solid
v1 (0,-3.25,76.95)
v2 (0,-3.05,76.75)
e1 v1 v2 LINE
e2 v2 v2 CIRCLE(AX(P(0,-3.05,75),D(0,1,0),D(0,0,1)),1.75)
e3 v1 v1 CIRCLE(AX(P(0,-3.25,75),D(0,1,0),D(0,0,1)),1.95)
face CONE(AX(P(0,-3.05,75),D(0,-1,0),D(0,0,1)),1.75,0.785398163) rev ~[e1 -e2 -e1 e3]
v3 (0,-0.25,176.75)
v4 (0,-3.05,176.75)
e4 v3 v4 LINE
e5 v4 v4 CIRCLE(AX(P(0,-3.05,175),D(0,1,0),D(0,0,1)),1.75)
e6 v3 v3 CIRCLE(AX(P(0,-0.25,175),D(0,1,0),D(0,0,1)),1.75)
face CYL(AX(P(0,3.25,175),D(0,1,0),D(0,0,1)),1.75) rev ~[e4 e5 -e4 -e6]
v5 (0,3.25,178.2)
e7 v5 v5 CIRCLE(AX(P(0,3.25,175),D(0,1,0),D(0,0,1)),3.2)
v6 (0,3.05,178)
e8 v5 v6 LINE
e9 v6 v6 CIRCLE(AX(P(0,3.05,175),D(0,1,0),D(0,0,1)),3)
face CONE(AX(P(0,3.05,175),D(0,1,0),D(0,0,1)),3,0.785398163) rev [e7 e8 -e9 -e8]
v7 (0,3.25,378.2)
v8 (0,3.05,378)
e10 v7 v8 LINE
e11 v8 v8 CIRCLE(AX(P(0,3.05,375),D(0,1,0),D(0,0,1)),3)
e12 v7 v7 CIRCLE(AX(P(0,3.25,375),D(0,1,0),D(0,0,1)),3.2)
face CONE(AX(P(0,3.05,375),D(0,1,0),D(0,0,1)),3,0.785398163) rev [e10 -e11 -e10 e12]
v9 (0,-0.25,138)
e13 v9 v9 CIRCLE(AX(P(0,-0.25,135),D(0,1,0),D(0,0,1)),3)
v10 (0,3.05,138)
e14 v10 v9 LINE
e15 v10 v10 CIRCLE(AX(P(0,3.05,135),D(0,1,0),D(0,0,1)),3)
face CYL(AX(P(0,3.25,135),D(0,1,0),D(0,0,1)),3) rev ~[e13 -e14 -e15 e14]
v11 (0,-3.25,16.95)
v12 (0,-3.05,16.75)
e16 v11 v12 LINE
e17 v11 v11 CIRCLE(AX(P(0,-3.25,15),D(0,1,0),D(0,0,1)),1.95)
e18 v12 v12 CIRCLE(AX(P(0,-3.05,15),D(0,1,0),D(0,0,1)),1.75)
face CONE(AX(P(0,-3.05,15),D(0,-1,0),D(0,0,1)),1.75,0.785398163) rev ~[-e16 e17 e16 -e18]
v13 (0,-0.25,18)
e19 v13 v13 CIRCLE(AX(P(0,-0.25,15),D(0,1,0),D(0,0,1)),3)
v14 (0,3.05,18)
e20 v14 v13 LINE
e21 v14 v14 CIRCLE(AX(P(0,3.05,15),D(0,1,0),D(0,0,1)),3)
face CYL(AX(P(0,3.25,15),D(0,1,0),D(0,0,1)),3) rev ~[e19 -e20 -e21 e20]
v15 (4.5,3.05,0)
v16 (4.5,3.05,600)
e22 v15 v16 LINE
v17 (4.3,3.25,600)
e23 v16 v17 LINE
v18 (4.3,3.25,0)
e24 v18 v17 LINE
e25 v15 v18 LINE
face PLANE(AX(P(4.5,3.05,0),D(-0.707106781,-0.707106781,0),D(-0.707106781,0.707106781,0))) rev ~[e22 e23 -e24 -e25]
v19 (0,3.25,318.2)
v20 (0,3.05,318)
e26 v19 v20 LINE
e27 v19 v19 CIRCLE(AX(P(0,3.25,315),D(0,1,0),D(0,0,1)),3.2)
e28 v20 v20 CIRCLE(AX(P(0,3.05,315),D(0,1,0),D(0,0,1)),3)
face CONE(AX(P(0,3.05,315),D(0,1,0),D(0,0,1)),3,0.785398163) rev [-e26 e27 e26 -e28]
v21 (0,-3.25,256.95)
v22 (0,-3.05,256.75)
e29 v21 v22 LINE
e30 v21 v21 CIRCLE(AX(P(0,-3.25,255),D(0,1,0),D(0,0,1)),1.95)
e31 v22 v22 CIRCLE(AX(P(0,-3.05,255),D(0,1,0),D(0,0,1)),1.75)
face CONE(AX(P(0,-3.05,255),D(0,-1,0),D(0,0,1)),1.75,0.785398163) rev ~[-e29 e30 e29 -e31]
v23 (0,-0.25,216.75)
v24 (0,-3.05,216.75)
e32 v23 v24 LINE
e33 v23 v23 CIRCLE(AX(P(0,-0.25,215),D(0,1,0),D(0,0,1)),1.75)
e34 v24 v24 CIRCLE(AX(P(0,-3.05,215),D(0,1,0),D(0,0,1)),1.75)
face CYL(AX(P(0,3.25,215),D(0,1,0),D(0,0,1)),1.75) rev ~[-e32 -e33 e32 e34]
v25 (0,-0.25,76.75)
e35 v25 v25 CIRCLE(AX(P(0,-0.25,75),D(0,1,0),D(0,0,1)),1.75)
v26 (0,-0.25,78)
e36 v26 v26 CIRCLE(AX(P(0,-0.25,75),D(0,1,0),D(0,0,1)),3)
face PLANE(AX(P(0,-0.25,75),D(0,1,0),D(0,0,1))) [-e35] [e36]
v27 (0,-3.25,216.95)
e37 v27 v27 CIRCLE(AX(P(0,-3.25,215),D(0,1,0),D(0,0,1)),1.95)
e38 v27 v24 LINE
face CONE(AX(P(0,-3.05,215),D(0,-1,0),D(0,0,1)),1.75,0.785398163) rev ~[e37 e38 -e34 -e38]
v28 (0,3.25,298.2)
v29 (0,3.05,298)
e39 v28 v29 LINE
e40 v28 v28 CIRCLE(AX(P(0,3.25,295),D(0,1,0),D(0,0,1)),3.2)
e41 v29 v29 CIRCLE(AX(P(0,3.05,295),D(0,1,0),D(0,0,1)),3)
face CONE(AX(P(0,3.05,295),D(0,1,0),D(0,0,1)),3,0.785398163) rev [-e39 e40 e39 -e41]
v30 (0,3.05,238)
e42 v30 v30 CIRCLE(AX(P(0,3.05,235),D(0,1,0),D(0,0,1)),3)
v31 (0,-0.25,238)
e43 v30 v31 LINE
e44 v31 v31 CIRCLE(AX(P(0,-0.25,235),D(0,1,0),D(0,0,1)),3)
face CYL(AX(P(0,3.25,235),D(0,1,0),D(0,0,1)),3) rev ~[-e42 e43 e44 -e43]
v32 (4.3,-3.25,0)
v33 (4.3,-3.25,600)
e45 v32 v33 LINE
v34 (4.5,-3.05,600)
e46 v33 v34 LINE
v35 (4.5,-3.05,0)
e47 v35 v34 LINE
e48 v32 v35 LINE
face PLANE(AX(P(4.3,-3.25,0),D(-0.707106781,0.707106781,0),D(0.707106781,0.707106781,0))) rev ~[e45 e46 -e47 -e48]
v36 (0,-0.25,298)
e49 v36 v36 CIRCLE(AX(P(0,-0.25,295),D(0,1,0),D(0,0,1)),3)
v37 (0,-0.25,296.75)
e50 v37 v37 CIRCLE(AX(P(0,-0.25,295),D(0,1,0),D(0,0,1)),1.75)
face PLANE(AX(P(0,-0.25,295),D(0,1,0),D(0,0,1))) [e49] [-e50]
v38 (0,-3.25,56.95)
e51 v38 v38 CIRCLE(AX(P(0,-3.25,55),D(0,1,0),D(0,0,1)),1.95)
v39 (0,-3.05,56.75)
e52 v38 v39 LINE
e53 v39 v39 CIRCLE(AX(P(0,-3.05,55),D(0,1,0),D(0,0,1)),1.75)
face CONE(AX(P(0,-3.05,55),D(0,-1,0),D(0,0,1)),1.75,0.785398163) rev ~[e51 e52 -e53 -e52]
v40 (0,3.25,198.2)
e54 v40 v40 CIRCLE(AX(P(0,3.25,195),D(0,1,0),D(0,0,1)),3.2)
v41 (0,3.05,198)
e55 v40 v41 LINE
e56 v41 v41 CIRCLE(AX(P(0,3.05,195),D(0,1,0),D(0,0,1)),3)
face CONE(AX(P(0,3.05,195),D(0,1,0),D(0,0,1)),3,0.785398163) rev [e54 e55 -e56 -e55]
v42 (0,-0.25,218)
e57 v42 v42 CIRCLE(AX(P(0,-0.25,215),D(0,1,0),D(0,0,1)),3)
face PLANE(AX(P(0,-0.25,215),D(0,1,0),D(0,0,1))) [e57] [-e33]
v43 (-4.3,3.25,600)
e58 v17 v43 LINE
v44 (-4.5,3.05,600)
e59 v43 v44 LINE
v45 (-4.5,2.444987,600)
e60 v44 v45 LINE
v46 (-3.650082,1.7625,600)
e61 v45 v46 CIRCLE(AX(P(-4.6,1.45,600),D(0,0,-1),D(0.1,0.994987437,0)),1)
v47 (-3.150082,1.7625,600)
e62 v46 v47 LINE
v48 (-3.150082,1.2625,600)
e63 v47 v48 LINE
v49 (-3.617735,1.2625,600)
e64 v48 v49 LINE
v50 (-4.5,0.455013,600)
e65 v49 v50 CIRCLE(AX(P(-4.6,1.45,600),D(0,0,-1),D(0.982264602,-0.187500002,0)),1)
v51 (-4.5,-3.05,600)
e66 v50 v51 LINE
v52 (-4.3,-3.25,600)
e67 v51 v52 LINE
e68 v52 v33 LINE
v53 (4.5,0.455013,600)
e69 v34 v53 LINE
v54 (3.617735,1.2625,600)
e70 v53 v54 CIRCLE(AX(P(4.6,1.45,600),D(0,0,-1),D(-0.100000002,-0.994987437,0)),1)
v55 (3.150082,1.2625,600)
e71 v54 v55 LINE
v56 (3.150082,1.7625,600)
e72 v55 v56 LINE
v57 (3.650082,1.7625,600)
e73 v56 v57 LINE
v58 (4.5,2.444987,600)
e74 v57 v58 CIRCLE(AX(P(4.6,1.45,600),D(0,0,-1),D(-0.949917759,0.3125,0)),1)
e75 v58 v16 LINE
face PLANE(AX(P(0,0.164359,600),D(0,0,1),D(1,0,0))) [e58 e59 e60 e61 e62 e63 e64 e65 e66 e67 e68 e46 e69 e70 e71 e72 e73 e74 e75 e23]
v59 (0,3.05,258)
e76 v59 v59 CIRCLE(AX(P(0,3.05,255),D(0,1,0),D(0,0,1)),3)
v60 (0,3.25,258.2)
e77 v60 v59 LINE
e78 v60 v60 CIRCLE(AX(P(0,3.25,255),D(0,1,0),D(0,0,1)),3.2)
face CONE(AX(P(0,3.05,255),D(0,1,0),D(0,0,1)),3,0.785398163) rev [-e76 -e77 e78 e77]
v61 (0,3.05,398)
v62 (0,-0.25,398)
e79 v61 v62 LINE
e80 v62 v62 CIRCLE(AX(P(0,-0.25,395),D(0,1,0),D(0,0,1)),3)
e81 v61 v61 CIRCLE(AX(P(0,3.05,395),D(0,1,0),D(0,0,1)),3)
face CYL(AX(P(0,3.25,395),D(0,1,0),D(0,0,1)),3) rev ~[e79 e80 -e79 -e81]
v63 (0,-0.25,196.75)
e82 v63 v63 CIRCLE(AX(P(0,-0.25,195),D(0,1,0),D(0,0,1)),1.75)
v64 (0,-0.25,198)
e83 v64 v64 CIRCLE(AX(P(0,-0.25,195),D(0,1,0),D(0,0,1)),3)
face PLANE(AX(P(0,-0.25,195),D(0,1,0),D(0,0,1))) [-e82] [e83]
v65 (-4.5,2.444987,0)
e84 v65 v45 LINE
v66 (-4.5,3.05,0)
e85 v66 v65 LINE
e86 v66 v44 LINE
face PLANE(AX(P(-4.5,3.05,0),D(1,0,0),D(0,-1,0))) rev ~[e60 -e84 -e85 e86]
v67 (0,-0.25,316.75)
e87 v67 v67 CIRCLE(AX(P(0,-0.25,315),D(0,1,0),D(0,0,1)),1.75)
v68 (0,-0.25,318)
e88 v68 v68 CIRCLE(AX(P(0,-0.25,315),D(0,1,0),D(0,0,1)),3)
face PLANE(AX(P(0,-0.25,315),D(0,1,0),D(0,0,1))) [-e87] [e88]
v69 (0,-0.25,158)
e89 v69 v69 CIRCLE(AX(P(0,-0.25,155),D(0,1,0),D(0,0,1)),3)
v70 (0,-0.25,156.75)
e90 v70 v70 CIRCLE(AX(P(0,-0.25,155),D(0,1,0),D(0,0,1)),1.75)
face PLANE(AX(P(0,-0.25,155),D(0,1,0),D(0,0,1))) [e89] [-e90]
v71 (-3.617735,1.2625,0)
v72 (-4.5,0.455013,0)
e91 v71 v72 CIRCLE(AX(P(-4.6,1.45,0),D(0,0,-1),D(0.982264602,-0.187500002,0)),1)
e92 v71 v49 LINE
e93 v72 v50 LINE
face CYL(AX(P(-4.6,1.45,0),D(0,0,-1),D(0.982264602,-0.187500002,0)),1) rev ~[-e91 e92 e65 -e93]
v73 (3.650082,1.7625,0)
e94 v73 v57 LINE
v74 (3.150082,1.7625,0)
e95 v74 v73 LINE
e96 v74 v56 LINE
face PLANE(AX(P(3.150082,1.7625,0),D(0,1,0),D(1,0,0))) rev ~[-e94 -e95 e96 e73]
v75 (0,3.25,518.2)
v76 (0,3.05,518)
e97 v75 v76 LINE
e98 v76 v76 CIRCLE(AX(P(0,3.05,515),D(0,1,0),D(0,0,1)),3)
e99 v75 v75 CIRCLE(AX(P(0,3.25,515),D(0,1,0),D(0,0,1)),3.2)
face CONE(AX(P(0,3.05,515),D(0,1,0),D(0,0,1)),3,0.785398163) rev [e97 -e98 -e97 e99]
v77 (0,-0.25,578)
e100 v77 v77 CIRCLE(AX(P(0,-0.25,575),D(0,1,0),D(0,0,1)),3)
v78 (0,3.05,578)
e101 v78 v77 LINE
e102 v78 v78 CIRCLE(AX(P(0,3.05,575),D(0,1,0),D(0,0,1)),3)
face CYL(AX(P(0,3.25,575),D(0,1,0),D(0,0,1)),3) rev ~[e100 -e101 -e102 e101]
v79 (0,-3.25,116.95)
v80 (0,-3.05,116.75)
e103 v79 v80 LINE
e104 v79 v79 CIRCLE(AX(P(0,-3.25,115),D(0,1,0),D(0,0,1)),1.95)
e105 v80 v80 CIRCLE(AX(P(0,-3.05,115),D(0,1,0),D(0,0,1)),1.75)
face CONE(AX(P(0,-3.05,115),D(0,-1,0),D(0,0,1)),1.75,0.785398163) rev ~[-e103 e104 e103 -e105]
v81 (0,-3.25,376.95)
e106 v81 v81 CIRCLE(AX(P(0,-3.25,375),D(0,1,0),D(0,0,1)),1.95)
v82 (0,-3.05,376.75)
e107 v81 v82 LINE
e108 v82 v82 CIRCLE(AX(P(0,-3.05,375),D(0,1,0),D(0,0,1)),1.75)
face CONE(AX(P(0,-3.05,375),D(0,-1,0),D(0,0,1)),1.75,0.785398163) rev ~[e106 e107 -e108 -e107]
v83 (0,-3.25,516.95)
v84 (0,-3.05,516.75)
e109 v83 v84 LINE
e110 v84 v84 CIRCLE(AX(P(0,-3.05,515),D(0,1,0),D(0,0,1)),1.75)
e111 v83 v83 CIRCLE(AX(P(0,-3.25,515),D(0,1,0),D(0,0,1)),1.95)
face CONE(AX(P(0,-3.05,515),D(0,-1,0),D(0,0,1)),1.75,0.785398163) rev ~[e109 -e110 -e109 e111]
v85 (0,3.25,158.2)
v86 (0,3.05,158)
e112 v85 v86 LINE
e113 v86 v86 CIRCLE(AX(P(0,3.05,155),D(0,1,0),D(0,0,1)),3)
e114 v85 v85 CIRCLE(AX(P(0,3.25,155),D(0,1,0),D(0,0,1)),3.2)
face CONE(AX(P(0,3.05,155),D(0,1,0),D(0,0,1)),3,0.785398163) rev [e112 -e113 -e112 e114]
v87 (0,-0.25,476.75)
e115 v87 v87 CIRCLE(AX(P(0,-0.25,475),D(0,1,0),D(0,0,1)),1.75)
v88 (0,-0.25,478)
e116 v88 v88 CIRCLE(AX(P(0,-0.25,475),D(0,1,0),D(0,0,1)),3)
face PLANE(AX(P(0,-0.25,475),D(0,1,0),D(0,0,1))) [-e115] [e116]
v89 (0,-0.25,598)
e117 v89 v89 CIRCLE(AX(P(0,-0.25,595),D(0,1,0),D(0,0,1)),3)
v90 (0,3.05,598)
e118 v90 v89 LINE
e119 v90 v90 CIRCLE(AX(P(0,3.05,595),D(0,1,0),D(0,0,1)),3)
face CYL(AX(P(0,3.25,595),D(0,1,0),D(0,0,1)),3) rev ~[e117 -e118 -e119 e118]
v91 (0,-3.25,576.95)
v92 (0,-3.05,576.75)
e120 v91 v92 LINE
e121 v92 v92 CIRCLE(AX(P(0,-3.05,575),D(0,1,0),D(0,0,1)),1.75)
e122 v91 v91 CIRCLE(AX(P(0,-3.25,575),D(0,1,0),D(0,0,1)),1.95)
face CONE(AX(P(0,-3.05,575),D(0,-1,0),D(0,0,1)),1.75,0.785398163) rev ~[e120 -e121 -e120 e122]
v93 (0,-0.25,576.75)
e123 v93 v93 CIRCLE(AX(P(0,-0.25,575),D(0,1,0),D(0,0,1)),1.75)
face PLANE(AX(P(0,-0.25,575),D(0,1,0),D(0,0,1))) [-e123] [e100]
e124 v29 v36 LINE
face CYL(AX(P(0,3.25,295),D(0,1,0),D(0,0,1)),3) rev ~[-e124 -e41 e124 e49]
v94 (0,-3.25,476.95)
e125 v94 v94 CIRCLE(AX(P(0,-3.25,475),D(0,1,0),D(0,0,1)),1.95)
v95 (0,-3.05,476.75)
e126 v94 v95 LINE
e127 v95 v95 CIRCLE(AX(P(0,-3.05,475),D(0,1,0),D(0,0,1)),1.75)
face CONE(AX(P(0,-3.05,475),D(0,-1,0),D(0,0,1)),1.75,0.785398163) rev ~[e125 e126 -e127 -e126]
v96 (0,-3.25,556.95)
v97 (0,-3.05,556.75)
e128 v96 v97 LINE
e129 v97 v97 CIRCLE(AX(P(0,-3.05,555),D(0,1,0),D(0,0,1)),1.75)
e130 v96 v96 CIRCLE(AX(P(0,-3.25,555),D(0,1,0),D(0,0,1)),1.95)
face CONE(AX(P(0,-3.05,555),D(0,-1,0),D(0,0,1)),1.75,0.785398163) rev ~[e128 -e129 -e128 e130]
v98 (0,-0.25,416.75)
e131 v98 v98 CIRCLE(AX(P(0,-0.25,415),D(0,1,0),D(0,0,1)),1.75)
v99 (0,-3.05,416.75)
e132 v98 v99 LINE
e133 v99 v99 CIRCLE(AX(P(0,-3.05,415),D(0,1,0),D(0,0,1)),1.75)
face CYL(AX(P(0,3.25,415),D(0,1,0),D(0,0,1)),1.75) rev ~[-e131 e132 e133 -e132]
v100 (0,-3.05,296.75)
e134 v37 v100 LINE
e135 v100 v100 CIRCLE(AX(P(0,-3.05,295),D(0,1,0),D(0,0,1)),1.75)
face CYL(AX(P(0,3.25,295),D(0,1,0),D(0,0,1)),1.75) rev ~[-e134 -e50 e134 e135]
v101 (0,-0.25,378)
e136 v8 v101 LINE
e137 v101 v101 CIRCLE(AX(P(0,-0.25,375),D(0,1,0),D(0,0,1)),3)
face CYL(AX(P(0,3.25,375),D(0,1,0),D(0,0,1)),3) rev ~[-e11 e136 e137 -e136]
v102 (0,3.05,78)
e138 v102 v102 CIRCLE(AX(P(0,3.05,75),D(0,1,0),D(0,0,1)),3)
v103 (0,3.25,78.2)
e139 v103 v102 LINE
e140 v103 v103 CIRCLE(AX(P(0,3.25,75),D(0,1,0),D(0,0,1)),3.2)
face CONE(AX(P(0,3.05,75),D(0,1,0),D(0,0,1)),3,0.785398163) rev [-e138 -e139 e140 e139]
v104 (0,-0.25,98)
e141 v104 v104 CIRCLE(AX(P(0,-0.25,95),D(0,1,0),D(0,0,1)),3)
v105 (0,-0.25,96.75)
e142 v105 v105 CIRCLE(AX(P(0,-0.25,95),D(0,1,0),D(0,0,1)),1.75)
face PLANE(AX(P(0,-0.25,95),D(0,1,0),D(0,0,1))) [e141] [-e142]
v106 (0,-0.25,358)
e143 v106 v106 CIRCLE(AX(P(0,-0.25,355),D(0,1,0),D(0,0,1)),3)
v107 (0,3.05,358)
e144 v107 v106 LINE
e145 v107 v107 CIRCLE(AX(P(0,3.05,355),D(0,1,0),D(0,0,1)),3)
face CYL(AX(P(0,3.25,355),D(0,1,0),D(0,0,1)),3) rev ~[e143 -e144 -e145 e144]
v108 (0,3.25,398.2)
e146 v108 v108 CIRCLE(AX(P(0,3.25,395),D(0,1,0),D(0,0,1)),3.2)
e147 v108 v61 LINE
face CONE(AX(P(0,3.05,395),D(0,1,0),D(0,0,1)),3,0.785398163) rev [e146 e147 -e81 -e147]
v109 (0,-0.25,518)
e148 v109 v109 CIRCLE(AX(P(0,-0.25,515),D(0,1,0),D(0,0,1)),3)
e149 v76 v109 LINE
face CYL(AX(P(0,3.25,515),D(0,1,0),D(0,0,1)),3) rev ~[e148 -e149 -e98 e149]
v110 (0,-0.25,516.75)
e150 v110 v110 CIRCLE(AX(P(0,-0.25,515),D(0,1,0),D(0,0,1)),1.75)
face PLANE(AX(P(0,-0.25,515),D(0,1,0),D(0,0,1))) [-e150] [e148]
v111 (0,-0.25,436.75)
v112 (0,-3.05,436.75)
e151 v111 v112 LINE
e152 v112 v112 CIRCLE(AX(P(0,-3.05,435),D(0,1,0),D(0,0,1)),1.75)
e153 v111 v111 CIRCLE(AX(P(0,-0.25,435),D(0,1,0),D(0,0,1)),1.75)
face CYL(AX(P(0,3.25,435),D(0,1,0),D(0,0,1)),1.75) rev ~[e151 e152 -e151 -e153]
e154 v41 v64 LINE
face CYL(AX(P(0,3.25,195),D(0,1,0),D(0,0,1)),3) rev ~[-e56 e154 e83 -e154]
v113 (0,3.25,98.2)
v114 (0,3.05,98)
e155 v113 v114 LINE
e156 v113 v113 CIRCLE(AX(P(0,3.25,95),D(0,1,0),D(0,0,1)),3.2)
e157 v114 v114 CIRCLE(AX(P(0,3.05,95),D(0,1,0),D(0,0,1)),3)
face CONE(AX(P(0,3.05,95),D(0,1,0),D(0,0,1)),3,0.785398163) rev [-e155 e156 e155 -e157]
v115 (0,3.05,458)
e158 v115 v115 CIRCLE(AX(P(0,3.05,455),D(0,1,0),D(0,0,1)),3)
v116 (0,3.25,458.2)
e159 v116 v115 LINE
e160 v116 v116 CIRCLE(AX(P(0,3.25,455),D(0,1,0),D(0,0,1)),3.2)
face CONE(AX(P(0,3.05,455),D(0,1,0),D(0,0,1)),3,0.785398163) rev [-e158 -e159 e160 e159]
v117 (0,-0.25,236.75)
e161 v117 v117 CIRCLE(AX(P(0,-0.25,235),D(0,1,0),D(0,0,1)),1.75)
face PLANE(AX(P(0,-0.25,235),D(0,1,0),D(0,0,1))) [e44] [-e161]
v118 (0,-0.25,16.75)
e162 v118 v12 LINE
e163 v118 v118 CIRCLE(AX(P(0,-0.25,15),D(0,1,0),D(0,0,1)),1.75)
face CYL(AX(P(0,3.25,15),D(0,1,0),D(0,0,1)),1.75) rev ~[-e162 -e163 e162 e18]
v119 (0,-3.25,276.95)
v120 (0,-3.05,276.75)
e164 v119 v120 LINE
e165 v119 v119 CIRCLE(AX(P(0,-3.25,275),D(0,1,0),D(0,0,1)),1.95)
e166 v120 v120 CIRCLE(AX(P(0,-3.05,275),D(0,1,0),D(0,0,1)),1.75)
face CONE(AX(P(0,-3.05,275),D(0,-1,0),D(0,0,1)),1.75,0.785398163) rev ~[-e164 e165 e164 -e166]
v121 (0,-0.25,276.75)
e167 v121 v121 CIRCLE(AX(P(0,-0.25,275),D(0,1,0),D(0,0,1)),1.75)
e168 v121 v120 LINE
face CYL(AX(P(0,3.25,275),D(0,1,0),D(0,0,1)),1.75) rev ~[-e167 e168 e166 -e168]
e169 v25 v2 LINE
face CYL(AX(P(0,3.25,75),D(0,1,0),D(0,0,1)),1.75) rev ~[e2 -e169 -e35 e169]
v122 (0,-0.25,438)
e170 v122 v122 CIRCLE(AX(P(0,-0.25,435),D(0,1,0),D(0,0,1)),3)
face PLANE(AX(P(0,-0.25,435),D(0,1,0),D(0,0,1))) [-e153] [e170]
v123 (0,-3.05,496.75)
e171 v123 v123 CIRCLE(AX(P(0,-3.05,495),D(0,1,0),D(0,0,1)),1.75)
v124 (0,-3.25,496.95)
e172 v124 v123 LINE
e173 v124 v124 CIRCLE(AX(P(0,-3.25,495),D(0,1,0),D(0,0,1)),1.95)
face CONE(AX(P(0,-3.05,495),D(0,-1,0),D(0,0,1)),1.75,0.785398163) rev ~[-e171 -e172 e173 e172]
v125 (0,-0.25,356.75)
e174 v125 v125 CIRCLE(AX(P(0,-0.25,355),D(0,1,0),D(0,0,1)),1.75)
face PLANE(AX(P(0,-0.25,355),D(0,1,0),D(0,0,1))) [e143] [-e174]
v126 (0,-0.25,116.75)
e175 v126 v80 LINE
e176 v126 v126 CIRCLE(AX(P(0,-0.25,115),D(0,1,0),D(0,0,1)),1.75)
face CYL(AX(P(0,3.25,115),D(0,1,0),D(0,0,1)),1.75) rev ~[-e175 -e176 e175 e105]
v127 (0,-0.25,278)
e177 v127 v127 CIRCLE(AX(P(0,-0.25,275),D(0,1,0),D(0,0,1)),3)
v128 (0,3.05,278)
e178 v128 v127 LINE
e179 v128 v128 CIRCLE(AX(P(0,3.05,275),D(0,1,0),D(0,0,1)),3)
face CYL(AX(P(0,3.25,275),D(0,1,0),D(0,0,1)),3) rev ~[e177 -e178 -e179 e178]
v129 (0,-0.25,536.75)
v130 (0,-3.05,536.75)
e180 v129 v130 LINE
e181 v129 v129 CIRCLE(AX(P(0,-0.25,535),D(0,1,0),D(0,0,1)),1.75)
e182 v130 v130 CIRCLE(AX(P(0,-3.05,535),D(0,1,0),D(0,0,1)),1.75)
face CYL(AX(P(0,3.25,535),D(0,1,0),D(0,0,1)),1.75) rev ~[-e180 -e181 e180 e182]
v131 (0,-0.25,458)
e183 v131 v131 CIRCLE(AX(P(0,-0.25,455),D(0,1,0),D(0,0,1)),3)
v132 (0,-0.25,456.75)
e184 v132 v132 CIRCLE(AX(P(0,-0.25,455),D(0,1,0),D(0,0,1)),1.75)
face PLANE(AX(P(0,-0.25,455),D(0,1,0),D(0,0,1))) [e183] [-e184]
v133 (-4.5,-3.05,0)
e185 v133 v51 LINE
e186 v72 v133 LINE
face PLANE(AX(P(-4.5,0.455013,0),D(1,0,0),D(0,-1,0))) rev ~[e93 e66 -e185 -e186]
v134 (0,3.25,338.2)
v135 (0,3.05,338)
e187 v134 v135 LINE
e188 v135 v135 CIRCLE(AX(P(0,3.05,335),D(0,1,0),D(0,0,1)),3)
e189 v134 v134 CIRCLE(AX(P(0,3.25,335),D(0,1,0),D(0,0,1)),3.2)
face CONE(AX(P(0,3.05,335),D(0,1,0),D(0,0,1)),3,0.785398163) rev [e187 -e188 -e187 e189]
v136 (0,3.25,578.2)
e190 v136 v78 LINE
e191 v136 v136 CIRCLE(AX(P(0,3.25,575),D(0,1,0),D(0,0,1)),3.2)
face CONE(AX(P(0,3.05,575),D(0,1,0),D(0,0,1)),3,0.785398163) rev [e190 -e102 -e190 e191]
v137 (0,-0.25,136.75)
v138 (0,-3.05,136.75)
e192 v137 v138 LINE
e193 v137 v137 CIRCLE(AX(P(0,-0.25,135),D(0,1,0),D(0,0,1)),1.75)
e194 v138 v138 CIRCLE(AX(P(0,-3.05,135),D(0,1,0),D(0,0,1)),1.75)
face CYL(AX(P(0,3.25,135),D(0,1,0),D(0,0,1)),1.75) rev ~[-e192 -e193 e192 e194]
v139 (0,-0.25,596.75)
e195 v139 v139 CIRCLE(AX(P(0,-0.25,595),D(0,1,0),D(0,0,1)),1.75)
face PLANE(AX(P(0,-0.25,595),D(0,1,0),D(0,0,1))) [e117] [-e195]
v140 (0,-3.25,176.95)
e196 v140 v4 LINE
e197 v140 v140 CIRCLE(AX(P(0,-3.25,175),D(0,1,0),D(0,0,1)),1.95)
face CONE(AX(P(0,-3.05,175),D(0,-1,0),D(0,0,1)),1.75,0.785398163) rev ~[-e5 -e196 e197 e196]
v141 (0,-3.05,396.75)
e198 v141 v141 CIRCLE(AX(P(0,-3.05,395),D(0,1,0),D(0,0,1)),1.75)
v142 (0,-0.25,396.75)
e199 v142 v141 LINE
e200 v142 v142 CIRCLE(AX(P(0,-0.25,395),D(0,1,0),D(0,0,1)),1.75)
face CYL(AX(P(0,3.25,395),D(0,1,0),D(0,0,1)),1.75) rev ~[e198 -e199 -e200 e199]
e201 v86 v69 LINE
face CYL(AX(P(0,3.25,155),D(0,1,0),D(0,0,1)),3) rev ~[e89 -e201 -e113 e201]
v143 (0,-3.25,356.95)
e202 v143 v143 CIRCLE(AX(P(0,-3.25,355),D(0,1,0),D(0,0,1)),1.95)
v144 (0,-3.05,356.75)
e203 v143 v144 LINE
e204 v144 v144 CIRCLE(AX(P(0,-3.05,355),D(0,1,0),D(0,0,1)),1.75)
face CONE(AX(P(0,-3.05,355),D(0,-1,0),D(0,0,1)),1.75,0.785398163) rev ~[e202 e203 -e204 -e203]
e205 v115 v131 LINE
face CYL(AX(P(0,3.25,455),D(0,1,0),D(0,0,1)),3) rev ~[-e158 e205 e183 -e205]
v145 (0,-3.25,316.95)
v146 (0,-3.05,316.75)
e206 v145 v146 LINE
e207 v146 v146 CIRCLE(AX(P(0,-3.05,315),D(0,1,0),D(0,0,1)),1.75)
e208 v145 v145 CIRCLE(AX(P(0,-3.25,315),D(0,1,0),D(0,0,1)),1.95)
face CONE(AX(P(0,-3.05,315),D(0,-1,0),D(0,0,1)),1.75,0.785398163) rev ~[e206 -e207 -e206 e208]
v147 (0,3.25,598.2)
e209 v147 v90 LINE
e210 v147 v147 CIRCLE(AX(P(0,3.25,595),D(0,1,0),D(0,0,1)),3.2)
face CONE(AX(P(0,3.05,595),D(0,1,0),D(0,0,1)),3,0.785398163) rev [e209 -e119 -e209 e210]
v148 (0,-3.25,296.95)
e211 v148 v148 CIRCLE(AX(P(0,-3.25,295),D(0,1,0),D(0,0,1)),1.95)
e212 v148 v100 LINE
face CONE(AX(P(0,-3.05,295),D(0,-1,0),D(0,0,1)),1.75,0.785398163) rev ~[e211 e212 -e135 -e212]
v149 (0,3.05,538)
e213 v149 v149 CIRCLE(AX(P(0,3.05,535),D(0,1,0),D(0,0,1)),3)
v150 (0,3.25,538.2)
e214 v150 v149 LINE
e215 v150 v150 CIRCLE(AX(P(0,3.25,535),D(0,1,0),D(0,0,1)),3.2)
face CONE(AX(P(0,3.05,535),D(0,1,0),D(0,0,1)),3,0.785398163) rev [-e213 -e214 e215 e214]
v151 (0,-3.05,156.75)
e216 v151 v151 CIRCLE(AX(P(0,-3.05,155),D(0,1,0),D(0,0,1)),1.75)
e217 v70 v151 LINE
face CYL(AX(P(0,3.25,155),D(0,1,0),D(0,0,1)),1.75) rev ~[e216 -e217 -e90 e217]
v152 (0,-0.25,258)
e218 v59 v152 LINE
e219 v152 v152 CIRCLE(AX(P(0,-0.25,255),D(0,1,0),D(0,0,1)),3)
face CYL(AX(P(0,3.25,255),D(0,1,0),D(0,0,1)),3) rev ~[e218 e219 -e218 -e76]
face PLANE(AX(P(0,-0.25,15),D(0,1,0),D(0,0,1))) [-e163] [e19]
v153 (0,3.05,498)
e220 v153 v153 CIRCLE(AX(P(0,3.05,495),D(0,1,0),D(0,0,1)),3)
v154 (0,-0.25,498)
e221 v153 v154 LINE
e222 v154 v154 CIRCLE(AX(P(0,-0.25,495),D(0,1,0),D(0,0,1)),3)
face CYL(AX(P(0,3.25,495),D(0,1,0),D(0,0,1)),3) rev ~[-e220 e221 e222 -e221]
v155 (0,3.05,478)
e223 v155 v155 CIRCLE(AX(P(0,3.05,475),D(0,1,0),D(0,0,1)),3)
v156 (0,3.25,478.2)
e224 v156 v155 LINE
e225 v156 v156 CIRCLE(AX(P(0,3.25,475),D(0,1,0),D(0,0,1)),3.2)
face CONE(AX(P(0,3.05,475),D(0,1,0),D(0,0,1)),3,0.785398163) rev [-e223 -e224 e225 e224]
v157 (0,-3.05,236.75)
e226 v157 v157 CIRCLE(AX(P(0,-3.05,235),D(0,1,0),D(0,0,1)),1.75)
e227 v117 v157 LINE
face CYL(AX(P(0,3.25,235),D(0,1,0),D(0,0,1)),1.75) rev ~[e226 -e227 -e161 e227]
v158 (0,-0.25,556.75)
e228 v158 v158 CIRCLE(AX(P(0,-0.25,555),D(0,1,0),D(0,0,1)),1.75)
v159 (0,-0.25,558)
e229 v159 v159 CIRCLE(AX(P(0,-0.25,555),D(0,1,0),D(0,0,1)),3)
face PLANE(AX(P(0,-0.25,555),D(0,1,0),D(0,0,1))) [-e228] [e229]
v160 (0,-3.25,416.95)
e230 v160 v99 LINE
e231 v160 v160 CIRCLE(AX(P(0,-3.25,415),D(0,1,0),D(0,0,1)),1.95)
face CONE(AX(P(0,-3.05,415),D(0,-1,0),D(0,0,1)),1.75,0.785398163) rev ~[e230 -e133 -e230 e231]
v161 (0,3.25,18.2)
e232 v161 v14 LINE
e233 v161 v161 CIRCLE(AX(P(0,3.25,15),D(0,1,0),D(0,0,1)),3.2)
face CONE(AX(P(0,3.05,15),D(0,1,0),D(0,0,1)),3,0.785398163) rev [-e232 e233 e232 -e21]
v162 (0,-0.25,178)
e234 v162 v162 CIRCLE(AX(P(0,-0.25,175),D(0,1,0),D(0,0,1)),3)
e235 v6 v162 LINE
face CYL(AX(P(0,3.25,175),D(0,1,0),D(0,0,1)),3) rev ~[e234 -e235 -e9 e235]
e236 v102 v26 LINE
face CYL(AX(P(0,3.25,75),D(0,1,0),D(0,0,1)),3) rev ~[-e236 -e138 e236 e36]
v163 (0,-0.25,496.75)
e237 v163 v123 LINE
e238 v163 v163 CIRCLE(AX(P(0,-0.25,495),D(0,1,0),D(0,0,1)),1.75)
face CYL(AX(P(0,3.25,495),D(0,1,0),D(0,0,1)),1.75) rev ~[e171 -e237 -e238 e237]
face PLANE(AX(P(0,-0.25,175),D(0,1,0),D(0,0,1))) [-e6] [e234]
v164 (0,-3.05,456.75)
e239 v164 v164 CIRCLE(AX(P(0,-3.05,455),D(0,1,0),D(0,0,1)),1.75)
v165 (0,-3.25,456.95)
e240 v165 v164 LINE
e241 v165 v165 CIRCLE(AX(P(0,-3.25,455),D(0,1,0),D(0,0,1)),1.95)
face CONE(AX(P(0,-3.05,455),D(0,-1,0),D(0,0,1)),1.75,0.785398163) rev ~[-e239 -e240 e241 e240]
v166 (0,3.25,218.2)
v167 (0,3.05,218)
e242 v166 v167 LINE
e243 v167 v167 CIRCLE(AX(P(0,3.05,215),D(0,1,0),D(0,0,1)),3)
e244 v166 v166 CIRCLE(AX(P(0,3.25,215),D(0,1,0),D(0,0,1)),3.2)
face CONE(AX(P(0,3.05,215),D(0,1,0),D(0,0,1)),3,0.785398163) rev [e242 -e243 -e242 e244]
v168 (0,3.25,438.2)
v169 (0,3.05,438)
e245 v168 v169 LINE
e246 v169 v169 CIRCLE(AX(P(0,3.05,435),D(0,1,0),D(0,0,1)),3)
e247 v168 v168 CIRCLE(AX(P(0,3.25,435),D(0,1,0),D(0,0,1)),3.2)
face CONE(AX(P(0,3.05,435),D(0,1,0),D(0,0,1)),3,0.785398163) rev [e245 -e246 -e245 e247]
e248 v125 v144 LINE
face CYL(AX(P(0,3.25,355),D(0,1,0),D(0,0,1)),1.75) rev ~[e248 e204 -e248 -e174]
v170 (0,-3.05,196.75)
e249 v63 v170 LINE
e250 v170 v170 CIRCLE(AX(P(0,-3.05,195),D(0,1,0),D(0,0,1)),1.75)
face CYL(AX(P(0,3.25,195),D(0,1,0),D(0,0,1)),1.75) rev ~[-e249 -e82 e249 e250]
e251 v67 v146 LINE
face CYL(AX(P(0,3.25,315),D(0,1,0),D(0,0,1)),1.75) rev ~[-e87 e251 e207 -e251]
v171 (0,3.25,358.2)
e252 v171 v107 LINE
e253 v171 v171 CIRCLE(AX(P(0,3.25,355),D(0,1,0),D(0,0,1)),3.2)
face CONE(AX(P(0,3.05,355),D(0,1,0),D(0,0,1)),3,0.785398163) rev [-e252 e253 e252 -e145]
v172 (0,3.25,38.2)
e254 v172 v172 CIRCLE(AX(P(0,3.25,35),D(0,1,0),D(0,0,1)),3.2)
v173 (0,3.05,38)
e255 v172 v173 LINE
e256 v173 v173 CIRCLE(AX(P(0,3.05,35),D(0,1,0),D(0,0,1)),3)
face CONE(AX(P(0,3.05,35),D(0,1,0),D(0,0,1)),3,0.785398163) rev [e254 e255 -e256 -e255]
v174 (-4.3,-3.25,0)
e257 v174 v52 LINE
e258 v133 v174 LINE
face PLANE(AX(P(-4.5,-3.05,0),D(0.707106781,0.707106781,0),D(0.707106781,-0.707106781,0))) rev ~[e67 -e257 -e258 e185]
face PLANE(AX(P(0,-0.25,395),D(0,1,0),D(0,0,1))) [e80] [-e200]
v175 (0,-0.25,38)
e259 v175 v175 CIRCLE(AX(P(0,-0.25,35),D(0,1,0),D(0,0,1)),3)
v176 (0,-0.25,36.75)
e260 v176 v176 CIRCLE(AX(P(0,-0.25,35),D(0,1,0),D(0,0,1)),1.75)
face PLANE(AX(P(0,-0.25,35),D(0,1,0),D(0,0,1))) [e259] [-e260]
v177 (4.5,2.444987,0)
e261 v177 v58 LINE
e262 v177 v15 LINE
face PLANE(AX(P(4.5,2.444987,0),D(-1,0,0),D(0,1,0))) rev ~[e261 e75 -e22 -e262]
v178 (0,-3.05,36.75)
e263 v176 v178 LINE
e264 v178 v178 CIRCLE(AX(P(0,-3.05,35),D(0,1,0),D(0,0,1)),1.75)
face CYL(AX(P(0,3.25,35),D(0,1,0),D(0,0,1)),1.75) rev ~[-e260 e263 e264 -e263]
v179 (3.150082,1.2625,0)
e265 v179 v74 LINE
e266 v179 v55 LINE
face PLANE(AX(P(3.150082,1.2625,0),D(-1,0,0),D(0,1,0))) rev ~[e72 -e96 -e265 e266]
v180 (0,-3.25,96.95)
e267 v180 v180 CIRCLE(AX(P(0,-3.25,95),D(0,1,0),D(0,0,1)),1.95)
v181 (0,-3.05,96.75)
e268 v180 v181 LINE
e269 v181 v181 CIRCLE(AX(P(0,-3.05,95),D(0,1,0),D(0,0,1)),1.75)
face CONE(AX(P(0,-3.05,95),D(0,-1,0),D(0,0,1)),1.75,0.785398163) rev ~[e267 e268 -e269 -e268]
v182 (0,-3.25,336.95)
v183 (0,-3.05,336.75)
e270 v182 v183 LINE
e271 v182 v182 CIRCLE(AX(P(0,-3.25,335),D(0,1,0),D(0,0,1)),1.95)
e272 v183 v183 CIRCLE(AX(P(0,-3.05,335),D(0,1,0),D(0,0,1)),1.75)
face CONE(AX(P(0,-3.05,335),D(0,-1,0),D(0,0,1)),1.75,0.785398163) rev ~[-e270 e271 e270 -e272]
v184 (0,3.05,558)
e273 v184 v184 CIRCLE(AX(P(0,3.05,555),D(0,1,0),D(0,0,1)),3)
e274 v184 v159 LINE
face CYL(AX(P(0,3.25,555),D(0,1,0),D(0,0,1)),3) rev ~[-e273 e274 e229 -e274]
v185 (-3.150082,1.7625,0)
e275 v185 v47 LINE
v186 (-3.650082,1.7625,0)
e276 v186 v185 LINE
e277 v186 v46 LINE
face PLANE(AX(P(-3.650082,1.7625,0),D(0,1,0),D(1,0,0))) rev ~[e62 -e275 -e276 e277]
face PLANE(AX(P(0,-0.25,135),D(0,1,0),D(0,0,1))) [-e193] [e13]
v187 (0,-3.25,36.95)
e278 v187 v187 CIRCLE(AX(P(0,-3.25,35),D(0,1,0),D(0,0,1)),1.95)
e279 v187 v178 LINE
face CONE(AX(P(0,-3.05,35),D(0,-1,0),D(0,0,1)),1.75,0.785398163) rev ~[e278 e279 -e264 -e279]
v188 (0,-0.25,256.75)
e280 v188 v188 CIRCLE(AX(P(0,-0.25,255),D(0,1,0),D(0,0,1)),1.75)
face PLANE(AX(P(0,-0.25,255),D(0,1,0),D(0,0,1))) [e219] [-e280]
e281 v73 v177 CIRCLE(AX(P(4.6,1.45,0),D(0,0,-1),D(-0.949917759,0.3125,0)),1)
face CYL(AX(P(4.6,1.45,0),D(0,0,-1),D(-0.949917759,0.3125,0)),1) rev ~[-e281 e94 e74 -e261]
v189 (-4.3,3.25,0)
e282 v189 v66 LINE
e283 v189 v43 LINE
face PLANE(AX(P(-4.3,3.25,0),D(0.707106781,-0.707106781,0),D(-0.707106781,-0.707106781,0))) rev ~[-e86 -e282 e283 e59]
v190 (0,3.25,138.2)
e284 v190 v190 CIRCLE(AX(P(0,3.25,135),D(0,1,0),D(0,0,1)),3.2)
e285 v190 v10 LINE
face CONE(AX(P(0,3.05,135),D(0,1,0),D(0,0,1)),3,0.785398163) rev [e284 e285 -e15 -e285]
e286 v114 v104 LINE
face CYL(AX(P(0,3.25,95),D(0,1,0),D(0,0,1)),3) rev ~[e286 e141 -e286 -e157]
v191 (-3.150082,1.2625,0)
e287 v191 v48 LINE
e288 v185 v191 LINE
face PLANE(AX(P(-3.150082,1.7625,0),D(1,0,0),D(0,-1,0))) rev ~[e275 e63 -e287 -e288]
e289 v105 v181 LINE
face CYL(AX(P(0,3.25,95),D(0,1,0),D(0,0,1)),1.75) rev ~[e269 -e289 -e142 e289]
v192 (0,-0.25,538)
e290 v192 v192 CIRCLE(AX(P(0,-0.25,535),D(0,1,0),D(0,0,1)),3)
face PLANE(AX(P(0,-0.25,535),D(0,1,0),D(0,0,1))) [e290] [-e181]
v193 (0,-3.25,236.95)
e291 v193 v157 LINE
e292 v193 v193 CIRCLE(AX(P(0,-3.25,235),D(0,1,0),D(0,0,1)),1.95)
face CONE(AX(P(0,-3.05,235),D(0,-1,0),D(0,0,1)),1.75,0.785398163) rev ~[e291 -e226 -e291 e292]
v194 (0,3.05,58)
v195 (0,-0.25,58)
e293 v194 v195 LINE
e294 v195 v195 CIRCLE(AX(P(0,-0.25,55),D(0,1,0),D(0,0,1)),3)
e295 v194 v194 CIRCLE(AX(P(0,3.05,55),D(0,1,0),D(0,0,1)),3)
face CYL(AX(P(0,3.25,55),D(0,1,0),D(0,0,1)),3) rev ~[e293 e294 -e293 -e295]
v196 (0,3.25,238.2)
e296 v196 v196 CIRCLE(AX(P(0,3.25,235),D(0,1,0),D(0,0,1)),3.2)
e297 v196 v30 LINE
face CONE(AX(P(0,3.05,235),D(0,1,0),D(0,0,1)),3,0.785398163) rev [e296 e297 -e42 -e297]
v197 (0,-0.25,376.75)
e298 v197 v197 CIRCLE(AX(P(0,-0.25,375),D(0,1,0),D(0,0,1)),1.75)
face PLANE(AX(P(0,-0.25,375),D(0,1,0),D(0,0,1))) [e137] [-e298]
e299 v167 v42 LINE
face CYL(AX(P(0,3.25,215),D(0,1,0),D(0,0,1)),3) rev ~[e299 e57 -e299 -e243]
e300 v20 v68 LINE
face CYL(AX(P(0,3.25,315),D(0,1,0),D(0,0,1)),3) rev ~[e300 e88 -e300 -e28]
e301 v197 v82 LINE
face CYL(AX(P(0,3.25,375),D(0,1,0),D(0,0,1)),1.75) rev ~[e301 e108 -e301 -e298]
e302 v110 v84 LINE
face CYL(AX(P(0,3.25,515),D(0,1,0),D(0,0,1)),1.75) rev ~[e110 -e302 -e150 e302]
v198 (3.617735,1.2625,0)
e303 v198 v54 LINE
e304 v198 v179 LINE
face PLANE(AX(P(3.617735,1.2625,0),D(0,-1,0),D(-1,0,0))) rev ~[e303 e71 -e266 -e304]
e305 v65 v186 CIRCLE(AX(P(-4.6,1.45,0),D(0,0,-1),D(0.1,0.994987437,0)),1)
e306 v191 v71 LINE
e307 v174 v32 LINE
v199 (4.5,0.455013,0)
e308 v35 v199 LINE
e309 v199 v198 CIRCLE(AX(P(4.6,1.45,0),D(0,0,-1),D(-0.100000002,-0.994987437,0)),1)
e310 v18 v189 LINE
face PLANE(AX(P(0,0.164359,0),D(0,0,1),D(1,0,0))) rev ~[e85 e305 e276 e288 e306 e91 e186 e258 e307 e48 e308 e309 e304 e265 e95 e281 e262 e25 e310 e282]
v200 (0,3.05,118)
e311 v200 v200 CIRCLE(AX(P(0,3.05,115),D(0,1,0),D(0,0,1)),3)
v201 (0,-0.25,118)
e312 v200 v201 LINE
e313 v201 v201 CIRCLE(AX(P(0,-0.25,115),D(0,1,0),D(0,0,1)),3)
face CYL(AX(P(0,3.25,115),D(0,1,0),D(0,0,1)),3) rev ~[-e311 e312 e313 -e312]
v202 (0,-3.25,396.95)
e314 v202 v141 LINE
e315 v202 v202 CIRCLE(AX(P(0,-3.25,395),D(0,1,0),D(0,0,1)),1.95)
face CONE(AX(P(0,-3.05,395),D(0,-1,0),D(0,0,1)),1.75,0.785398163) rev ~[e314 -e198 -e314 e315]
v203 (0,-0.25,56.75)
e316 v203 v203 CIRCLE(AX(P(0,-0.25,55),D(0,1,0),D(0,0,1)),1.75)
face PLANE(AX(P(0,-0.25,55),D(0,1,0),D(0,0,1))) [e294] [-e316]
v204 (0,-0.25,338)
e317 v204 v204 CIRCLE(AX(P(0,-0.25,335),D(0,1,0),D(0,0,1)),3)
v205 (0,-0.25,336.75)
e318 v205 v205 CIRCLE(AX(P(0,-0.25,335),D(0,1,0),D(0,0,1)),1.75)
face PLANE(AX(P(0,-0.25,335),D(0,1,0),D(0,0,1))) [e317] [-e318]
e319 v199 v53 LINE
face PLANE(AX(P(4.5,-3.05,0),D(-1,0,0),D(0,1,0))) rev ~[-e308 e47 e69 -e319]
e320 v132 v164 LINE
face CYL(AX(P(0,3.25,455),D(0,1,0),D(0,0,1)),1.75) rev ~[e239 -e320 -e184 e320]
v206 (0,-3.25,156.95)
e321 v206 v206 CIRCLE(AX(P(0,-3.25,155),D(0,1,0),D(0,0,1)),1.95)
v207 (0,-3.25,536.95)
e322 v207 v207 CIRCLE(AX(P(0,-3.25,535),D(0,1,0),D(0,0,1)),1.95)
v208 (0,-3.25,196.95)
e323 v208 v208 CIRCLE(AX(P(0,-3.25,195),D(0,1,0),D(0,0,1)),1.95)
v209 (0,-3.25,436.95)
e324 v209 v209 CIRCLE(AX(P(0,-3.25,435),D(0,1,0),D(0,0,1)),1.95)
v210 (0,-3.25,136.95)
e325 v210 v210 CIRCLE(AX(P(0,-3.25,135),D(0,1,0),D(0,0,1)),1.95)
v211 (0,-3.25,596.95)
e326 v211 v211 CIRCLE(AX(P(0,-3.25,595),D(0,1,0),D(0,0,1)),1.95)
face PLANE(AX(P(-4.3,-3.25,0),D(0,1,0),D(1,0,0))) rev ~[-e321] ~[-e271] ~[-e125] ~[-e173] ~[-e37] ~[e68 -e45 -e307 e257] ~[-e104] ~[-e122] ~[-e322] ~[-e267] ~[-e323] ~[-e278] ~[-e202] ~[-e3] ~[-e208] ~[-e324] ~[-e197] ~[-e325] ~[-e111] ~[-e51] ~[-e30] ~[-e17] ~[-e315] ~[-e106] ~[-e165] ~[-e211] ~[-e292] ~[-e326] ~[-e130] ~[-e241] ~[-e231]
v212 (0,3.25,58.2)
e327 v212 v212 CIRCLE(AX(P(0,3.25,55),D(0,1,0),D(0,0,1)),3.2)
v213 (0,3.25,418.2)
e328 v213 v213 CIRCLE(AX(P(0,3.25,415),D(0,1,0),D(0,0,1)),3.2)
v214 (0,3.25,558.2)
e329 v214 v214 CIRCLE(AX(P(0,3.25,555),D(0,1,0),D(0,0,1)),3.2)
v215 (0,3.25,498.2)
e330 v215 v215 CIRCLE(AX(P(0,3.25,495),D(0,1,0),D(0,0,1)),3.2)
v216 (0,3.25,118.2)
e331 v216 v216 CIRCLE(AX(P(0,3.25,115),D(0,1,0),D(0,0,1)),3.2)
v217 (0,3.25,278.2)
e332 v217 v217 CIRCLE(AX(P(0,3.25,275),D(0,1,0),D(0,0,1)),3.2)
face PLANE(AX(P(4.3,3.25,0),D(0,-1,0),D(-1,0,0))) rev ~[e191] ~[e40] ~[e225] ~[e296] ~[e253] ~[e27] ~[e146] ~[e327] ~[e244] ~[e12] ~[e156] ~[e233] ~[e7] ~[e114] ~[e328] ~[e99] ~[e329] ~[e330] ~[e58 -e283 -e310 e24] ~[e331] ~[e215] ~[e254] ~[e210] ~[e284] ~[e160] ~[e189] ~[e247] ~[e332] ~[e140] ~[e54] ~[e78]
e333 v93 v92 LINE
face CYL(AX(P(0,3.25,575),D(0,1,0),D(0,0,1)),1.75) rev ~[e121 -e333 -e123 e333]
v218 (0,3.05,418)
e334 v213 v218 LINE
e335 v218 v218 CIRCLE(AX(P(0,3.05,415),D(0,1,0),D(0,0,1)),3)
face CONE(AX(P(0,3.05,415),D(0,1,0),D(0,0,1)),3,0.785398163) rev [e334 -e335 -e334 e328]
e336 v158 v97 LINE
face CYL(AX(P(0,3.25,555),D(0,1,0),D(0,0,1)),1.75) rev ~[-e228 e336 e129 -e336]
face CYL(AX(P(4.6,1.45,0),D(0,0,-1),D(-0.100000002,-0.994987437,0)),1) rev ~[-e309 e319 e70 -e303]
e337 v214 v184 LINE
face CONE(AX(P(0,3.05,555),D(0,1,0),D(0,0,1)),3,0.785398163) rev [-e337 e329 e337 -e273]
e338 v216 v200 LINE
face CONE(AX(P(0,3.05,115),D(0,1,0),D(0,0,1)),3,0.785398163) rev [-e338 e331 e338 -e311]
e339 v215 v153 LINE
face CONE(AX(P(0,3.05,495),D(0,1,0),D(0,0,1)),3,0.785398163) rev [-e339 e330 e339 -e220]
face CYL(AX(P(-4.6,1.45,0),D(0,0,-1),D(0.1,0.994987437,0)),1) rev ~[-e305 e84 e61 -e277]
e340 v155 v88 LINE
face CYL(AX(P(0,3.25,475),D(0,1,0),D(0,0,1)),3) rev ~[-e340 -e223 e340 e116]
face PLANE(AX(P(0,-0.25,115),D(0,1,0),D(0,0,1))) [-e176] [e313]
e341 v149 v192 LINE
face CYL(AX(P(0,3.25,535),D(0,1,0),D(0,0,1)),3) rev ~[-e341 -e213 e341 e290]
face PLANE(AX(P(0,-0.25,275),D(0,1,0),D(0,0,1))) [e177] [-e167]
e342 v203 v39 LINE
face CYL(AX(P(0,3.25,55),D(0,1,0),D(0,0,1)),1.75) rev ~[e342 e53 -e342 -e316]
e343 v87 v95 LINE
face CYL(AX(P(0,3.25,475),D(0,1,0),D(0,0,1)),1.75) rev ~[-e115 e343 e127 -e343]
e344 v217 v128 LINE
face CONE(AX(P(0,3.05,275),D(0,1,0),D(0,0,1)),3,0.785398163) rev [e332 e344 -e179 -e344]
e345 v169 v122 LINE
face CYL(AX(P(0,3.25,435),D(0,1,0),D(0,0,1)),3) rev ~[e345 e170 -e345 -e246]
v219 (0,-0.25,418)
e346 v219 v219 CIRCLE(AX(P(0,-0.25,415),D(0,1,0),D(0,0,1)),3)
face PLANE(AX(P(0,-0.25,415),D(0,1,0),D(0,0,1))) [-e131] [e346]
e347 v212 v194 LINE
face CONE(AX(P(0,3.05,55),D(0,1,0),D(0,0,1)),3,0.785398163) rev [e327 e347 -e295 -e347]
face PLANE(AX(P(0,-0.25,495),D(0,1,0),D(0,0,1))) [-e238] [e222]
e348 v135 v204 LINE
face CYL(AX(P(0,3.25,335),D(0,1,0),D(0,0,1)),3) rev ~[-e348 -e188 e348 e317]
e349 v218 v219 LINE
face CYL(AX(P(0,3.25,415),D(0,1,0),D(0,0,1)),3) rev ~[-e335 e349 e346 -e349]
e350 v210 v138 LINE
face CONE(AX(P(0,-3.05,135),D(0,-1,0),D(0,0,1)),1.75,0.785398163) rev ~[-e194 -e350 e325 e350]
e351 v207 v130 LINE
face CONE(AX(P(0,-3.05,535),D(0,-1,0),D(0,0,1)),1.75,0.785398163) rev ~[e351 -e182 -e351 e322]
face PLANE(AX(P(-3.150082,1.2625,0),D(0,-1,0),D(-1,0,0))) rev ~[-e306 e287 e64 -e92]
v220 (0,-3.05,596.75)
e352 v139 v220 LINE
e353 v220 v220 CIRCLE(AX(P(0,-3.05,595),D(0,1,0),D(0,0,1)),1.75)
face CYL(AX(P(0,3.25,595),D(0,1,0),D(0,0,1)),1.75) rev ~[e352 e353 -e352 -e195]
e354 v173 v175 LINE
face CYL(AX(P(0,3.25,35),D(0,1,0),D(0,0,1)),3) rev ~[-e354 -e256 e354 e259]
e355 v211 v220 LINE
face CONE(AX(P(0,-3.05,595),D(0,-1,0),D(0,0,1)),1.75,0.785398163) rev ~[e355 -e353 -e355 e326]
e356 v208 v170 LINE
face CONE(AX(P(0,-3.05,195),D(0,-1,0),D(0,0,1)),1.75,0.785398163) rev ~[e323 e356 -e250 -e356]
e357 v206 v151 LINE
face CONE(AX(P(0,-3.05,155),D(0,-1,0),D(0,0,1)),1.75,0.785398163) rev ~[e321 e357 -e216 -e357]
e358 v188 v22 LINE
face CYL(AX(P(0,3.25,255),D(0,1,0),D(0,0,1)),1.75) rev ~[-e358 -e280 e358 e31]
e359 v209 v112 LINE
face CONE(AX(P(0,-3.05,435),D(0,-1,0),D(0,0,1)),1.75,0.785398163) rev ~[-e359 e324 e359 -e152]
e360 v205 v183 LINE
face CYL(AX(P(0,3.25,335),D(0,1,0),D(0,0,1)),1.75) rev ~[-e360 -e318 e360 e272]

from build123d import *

# Parameters (mm, degrees)
EXTRUDE1_DEPTH             = 600
EXTRUDE2_REACH             = 602.052
SKETCH2_R                  = 1.75
SKETCH_R                   = 3
SKETCH_R_2                 = 1.75
EXTRUDE4_DEPTH             = 3.5
CHAMFER1_SIZE              = 0.2
LPATTERN1_COUNT            = 30
LPATTERN1_PITCH            = 20
CHAMFER1_OF_LPATTERN1_SIZE = 0.2


with BuildPart() as part:
    # Sketch1 → Extrude1 (new body)
    with BuildSketch(Plane.XY):
        with BuildLine():
            Line((-4.3, -3.25), (4.3, -3.25))
            Line((4.3, -3.25), (4.5, -3.05))
            Line((4.5, -3.05), (4.5, 0.455012563))
            ThreePointArc((4.5, 0.455012563), (3.924845827, 0.712323349), (3.617735397, 1.2625))
            Line((3.617735397, 1.2625), (3.15008224, 1.2625))
            Line((3.15008224, 1.2625), (3.15008224, 1.7625))
            Line((3.15008224, 1.7625), (3.65008224, 1.7625))
            ThreePointArc((3.65008224, 1.7625), (3.973877727, 2.229724887), (4.5, 2.444987437))
            Line((4.5, 2.444987437), (4.5, 3.05))
            Line((4.5, 3.05), (4.3, 3.25))
            Line((4.3, 3.25), (-4.3, 3.25))
            Line((-4.3, 3.25), (-4.5, 3.05))
            Line((-4.5, 3.05), (-4.5, 2.444987437))
            ThreePointArc((-4.5, 2.444987437), (-3.973877727, 2.229724887), (-3.65008224, 1.7625))
            Line((-3.65008224, 1.7625), (-3.15008224, 1.7625))
            Line((-3.15008224, 1.7625), (-3.15008224, 1.2625))
            Line((-3.15008224, 1.2625), (-3.617735397, 1.2625))
            ThreePointArc((-3.617735397, 1.2625), (-3.924845827, 0.712323349), (-4.5, 0.455012563))
            Line((-4.5, 0.455012563), (-4.5, -3.05))
            Line((-4.5, -3.05), (-4.3, -3.25))
        make_face()
    extrude(amount=EXTRUDE1_DEPTH)

    # Sketch2 → Extrude2 (cut, up to next)
    with BuildSketch(Plane(origin=(0, 3.25, 0), x_dir=(1, 0, 0), z_dir=(0, 1, 0)), mode=Mode.PRIVATE) as extrude2_sk1:
        with Locations(Location((0, -15, 0), (0, 0, 270))):
            Circle(SKETCH2_R)
    extrude2_tool1 = extrude(extrude2_sk1.sketch, amount=-EXTRUDE2_REACH, mode=Mode.PRIVATE) & part.part
    extrude2 = extrude2_tool1.solids().sort_by_distance((0, 3.25, 15))[0]
    add(extrude2, mode=Mode.SUBTRACT)

    # Sketch → Extrude4 (cut)
    with BuildSketch(Plane(origin=(0, 3.25, 0), x_dir=(1, 0, 0), z_dir=(0, 1, 0))):
        with Locations(Location((0, -15, 0), (0, 0, 270))):
            Circle(SKETCH_R)
        with Locations(Location((0, -15, 0), (0, 0, 270))):
            Circle(SKETCH_R_2, mode=Mode.SUBTRACT)
    extrude4 = extrude(amount=-EXTRUDE4_DEPTH, mode=Mode.SUBTRACT)

    # Chamfer1
    chamfer1_edges = [part.edges().sort_by_distance(p)[0] for p in [
        (0, -3.25, 13.25),
        (0, 3.25, 12),
    ]]
    chamfer(chamfer1_edges, length=CHAMFER1_SIZE)

    # LPattern1: Extrude2, Extrude4 ×30
    with Locations(*[(0, 0, i * LPATTERN1_PITCH) for i in range(1, LPATTERN1_COUNT)]):
        add(extrude2, mode=Mode.SUBTRACT)
        add(extrude4, mode=Mode.SUBTRACT)

    # Chamfer1 of LPattern1
    chamfer1_of_lpattern1_edges = [part.edges().sort_by_distance(p)[0] for p in [
        (0, -3.25, 33.25),
        (0, 3.25, 32),
        (0, -3.25, 53.25),
        (0, 3.25, 52),
        (0, -3.25, 73.25),
        (0, 3.25, 72),
        (0, -3.25, 93.25),
        (0, 3.25, 92),
        (0, -3.25, 113.25),
        (0, 3.25, 112),
        (0, -3.25, 133.25),
        (0, 3.25, 132),
        (0, -3.25, 153.25),
        (0, 3.25, 152),
        (0, -3.25, 173.25),
        (0, 3.25, 172),
        (0, -3.25, 193.25),
        (0, 3.25, 192),
        (0, -3.25, 213.25),
        (0, 3.25, 212),
        (0, -3.25, 233.25),
        (0, 3.25, 232),
        (0, -3.25, 253.25),
        (0, 3.25, 252),
        (0, -3.25, 273.25),
        (0, 3.25, 272),
        (0, -3.25, 293.25),
        (0, 3.25, 292),
        (0, -3.25, 313.25),
        (0, 3.25, 312),
        (0, -3.25, 333.25),
        (0, 3.25, 332),
        (0, -3.25, 353.25),
        (0, 3.25, 352),
        (0, -3.25, 373.25),
        (0, 3.25, 372),
        (0, -3.25, 393.25),
        (0, 3.25, 392),
        (0, -3.25, 413.25),
        (0, 3.25, 412),
        (0, -3.25, 433.25),
        (0, 3.25, 432),
        (0, -3.25, 453.25),
        (0, 3.25, 452),
        (0, -3.25, 473.25),
        (0, 3.25, 472),
        (0, -3.25, 493.25),
        (0, 3.25, 492),
        (0, -3.25, 513.25),
        (0, 3.25, 512),
        (0, -3.25, 533.25),
        (0, 3.25, 532),
        (0, -3.25, 553.25),
        (0, 3.25, 552),
        (0, -3.25, 573.25),
        (0, 3.25, 572),
        (0, -3.25, 593.25),
        (0, 3.25, 592),
    ]]
    chamfer(chamfer1_of_lpattern1_edges, length=CHAMFER1_OF_LPATTERN1_SIZE)


solid = part.part
